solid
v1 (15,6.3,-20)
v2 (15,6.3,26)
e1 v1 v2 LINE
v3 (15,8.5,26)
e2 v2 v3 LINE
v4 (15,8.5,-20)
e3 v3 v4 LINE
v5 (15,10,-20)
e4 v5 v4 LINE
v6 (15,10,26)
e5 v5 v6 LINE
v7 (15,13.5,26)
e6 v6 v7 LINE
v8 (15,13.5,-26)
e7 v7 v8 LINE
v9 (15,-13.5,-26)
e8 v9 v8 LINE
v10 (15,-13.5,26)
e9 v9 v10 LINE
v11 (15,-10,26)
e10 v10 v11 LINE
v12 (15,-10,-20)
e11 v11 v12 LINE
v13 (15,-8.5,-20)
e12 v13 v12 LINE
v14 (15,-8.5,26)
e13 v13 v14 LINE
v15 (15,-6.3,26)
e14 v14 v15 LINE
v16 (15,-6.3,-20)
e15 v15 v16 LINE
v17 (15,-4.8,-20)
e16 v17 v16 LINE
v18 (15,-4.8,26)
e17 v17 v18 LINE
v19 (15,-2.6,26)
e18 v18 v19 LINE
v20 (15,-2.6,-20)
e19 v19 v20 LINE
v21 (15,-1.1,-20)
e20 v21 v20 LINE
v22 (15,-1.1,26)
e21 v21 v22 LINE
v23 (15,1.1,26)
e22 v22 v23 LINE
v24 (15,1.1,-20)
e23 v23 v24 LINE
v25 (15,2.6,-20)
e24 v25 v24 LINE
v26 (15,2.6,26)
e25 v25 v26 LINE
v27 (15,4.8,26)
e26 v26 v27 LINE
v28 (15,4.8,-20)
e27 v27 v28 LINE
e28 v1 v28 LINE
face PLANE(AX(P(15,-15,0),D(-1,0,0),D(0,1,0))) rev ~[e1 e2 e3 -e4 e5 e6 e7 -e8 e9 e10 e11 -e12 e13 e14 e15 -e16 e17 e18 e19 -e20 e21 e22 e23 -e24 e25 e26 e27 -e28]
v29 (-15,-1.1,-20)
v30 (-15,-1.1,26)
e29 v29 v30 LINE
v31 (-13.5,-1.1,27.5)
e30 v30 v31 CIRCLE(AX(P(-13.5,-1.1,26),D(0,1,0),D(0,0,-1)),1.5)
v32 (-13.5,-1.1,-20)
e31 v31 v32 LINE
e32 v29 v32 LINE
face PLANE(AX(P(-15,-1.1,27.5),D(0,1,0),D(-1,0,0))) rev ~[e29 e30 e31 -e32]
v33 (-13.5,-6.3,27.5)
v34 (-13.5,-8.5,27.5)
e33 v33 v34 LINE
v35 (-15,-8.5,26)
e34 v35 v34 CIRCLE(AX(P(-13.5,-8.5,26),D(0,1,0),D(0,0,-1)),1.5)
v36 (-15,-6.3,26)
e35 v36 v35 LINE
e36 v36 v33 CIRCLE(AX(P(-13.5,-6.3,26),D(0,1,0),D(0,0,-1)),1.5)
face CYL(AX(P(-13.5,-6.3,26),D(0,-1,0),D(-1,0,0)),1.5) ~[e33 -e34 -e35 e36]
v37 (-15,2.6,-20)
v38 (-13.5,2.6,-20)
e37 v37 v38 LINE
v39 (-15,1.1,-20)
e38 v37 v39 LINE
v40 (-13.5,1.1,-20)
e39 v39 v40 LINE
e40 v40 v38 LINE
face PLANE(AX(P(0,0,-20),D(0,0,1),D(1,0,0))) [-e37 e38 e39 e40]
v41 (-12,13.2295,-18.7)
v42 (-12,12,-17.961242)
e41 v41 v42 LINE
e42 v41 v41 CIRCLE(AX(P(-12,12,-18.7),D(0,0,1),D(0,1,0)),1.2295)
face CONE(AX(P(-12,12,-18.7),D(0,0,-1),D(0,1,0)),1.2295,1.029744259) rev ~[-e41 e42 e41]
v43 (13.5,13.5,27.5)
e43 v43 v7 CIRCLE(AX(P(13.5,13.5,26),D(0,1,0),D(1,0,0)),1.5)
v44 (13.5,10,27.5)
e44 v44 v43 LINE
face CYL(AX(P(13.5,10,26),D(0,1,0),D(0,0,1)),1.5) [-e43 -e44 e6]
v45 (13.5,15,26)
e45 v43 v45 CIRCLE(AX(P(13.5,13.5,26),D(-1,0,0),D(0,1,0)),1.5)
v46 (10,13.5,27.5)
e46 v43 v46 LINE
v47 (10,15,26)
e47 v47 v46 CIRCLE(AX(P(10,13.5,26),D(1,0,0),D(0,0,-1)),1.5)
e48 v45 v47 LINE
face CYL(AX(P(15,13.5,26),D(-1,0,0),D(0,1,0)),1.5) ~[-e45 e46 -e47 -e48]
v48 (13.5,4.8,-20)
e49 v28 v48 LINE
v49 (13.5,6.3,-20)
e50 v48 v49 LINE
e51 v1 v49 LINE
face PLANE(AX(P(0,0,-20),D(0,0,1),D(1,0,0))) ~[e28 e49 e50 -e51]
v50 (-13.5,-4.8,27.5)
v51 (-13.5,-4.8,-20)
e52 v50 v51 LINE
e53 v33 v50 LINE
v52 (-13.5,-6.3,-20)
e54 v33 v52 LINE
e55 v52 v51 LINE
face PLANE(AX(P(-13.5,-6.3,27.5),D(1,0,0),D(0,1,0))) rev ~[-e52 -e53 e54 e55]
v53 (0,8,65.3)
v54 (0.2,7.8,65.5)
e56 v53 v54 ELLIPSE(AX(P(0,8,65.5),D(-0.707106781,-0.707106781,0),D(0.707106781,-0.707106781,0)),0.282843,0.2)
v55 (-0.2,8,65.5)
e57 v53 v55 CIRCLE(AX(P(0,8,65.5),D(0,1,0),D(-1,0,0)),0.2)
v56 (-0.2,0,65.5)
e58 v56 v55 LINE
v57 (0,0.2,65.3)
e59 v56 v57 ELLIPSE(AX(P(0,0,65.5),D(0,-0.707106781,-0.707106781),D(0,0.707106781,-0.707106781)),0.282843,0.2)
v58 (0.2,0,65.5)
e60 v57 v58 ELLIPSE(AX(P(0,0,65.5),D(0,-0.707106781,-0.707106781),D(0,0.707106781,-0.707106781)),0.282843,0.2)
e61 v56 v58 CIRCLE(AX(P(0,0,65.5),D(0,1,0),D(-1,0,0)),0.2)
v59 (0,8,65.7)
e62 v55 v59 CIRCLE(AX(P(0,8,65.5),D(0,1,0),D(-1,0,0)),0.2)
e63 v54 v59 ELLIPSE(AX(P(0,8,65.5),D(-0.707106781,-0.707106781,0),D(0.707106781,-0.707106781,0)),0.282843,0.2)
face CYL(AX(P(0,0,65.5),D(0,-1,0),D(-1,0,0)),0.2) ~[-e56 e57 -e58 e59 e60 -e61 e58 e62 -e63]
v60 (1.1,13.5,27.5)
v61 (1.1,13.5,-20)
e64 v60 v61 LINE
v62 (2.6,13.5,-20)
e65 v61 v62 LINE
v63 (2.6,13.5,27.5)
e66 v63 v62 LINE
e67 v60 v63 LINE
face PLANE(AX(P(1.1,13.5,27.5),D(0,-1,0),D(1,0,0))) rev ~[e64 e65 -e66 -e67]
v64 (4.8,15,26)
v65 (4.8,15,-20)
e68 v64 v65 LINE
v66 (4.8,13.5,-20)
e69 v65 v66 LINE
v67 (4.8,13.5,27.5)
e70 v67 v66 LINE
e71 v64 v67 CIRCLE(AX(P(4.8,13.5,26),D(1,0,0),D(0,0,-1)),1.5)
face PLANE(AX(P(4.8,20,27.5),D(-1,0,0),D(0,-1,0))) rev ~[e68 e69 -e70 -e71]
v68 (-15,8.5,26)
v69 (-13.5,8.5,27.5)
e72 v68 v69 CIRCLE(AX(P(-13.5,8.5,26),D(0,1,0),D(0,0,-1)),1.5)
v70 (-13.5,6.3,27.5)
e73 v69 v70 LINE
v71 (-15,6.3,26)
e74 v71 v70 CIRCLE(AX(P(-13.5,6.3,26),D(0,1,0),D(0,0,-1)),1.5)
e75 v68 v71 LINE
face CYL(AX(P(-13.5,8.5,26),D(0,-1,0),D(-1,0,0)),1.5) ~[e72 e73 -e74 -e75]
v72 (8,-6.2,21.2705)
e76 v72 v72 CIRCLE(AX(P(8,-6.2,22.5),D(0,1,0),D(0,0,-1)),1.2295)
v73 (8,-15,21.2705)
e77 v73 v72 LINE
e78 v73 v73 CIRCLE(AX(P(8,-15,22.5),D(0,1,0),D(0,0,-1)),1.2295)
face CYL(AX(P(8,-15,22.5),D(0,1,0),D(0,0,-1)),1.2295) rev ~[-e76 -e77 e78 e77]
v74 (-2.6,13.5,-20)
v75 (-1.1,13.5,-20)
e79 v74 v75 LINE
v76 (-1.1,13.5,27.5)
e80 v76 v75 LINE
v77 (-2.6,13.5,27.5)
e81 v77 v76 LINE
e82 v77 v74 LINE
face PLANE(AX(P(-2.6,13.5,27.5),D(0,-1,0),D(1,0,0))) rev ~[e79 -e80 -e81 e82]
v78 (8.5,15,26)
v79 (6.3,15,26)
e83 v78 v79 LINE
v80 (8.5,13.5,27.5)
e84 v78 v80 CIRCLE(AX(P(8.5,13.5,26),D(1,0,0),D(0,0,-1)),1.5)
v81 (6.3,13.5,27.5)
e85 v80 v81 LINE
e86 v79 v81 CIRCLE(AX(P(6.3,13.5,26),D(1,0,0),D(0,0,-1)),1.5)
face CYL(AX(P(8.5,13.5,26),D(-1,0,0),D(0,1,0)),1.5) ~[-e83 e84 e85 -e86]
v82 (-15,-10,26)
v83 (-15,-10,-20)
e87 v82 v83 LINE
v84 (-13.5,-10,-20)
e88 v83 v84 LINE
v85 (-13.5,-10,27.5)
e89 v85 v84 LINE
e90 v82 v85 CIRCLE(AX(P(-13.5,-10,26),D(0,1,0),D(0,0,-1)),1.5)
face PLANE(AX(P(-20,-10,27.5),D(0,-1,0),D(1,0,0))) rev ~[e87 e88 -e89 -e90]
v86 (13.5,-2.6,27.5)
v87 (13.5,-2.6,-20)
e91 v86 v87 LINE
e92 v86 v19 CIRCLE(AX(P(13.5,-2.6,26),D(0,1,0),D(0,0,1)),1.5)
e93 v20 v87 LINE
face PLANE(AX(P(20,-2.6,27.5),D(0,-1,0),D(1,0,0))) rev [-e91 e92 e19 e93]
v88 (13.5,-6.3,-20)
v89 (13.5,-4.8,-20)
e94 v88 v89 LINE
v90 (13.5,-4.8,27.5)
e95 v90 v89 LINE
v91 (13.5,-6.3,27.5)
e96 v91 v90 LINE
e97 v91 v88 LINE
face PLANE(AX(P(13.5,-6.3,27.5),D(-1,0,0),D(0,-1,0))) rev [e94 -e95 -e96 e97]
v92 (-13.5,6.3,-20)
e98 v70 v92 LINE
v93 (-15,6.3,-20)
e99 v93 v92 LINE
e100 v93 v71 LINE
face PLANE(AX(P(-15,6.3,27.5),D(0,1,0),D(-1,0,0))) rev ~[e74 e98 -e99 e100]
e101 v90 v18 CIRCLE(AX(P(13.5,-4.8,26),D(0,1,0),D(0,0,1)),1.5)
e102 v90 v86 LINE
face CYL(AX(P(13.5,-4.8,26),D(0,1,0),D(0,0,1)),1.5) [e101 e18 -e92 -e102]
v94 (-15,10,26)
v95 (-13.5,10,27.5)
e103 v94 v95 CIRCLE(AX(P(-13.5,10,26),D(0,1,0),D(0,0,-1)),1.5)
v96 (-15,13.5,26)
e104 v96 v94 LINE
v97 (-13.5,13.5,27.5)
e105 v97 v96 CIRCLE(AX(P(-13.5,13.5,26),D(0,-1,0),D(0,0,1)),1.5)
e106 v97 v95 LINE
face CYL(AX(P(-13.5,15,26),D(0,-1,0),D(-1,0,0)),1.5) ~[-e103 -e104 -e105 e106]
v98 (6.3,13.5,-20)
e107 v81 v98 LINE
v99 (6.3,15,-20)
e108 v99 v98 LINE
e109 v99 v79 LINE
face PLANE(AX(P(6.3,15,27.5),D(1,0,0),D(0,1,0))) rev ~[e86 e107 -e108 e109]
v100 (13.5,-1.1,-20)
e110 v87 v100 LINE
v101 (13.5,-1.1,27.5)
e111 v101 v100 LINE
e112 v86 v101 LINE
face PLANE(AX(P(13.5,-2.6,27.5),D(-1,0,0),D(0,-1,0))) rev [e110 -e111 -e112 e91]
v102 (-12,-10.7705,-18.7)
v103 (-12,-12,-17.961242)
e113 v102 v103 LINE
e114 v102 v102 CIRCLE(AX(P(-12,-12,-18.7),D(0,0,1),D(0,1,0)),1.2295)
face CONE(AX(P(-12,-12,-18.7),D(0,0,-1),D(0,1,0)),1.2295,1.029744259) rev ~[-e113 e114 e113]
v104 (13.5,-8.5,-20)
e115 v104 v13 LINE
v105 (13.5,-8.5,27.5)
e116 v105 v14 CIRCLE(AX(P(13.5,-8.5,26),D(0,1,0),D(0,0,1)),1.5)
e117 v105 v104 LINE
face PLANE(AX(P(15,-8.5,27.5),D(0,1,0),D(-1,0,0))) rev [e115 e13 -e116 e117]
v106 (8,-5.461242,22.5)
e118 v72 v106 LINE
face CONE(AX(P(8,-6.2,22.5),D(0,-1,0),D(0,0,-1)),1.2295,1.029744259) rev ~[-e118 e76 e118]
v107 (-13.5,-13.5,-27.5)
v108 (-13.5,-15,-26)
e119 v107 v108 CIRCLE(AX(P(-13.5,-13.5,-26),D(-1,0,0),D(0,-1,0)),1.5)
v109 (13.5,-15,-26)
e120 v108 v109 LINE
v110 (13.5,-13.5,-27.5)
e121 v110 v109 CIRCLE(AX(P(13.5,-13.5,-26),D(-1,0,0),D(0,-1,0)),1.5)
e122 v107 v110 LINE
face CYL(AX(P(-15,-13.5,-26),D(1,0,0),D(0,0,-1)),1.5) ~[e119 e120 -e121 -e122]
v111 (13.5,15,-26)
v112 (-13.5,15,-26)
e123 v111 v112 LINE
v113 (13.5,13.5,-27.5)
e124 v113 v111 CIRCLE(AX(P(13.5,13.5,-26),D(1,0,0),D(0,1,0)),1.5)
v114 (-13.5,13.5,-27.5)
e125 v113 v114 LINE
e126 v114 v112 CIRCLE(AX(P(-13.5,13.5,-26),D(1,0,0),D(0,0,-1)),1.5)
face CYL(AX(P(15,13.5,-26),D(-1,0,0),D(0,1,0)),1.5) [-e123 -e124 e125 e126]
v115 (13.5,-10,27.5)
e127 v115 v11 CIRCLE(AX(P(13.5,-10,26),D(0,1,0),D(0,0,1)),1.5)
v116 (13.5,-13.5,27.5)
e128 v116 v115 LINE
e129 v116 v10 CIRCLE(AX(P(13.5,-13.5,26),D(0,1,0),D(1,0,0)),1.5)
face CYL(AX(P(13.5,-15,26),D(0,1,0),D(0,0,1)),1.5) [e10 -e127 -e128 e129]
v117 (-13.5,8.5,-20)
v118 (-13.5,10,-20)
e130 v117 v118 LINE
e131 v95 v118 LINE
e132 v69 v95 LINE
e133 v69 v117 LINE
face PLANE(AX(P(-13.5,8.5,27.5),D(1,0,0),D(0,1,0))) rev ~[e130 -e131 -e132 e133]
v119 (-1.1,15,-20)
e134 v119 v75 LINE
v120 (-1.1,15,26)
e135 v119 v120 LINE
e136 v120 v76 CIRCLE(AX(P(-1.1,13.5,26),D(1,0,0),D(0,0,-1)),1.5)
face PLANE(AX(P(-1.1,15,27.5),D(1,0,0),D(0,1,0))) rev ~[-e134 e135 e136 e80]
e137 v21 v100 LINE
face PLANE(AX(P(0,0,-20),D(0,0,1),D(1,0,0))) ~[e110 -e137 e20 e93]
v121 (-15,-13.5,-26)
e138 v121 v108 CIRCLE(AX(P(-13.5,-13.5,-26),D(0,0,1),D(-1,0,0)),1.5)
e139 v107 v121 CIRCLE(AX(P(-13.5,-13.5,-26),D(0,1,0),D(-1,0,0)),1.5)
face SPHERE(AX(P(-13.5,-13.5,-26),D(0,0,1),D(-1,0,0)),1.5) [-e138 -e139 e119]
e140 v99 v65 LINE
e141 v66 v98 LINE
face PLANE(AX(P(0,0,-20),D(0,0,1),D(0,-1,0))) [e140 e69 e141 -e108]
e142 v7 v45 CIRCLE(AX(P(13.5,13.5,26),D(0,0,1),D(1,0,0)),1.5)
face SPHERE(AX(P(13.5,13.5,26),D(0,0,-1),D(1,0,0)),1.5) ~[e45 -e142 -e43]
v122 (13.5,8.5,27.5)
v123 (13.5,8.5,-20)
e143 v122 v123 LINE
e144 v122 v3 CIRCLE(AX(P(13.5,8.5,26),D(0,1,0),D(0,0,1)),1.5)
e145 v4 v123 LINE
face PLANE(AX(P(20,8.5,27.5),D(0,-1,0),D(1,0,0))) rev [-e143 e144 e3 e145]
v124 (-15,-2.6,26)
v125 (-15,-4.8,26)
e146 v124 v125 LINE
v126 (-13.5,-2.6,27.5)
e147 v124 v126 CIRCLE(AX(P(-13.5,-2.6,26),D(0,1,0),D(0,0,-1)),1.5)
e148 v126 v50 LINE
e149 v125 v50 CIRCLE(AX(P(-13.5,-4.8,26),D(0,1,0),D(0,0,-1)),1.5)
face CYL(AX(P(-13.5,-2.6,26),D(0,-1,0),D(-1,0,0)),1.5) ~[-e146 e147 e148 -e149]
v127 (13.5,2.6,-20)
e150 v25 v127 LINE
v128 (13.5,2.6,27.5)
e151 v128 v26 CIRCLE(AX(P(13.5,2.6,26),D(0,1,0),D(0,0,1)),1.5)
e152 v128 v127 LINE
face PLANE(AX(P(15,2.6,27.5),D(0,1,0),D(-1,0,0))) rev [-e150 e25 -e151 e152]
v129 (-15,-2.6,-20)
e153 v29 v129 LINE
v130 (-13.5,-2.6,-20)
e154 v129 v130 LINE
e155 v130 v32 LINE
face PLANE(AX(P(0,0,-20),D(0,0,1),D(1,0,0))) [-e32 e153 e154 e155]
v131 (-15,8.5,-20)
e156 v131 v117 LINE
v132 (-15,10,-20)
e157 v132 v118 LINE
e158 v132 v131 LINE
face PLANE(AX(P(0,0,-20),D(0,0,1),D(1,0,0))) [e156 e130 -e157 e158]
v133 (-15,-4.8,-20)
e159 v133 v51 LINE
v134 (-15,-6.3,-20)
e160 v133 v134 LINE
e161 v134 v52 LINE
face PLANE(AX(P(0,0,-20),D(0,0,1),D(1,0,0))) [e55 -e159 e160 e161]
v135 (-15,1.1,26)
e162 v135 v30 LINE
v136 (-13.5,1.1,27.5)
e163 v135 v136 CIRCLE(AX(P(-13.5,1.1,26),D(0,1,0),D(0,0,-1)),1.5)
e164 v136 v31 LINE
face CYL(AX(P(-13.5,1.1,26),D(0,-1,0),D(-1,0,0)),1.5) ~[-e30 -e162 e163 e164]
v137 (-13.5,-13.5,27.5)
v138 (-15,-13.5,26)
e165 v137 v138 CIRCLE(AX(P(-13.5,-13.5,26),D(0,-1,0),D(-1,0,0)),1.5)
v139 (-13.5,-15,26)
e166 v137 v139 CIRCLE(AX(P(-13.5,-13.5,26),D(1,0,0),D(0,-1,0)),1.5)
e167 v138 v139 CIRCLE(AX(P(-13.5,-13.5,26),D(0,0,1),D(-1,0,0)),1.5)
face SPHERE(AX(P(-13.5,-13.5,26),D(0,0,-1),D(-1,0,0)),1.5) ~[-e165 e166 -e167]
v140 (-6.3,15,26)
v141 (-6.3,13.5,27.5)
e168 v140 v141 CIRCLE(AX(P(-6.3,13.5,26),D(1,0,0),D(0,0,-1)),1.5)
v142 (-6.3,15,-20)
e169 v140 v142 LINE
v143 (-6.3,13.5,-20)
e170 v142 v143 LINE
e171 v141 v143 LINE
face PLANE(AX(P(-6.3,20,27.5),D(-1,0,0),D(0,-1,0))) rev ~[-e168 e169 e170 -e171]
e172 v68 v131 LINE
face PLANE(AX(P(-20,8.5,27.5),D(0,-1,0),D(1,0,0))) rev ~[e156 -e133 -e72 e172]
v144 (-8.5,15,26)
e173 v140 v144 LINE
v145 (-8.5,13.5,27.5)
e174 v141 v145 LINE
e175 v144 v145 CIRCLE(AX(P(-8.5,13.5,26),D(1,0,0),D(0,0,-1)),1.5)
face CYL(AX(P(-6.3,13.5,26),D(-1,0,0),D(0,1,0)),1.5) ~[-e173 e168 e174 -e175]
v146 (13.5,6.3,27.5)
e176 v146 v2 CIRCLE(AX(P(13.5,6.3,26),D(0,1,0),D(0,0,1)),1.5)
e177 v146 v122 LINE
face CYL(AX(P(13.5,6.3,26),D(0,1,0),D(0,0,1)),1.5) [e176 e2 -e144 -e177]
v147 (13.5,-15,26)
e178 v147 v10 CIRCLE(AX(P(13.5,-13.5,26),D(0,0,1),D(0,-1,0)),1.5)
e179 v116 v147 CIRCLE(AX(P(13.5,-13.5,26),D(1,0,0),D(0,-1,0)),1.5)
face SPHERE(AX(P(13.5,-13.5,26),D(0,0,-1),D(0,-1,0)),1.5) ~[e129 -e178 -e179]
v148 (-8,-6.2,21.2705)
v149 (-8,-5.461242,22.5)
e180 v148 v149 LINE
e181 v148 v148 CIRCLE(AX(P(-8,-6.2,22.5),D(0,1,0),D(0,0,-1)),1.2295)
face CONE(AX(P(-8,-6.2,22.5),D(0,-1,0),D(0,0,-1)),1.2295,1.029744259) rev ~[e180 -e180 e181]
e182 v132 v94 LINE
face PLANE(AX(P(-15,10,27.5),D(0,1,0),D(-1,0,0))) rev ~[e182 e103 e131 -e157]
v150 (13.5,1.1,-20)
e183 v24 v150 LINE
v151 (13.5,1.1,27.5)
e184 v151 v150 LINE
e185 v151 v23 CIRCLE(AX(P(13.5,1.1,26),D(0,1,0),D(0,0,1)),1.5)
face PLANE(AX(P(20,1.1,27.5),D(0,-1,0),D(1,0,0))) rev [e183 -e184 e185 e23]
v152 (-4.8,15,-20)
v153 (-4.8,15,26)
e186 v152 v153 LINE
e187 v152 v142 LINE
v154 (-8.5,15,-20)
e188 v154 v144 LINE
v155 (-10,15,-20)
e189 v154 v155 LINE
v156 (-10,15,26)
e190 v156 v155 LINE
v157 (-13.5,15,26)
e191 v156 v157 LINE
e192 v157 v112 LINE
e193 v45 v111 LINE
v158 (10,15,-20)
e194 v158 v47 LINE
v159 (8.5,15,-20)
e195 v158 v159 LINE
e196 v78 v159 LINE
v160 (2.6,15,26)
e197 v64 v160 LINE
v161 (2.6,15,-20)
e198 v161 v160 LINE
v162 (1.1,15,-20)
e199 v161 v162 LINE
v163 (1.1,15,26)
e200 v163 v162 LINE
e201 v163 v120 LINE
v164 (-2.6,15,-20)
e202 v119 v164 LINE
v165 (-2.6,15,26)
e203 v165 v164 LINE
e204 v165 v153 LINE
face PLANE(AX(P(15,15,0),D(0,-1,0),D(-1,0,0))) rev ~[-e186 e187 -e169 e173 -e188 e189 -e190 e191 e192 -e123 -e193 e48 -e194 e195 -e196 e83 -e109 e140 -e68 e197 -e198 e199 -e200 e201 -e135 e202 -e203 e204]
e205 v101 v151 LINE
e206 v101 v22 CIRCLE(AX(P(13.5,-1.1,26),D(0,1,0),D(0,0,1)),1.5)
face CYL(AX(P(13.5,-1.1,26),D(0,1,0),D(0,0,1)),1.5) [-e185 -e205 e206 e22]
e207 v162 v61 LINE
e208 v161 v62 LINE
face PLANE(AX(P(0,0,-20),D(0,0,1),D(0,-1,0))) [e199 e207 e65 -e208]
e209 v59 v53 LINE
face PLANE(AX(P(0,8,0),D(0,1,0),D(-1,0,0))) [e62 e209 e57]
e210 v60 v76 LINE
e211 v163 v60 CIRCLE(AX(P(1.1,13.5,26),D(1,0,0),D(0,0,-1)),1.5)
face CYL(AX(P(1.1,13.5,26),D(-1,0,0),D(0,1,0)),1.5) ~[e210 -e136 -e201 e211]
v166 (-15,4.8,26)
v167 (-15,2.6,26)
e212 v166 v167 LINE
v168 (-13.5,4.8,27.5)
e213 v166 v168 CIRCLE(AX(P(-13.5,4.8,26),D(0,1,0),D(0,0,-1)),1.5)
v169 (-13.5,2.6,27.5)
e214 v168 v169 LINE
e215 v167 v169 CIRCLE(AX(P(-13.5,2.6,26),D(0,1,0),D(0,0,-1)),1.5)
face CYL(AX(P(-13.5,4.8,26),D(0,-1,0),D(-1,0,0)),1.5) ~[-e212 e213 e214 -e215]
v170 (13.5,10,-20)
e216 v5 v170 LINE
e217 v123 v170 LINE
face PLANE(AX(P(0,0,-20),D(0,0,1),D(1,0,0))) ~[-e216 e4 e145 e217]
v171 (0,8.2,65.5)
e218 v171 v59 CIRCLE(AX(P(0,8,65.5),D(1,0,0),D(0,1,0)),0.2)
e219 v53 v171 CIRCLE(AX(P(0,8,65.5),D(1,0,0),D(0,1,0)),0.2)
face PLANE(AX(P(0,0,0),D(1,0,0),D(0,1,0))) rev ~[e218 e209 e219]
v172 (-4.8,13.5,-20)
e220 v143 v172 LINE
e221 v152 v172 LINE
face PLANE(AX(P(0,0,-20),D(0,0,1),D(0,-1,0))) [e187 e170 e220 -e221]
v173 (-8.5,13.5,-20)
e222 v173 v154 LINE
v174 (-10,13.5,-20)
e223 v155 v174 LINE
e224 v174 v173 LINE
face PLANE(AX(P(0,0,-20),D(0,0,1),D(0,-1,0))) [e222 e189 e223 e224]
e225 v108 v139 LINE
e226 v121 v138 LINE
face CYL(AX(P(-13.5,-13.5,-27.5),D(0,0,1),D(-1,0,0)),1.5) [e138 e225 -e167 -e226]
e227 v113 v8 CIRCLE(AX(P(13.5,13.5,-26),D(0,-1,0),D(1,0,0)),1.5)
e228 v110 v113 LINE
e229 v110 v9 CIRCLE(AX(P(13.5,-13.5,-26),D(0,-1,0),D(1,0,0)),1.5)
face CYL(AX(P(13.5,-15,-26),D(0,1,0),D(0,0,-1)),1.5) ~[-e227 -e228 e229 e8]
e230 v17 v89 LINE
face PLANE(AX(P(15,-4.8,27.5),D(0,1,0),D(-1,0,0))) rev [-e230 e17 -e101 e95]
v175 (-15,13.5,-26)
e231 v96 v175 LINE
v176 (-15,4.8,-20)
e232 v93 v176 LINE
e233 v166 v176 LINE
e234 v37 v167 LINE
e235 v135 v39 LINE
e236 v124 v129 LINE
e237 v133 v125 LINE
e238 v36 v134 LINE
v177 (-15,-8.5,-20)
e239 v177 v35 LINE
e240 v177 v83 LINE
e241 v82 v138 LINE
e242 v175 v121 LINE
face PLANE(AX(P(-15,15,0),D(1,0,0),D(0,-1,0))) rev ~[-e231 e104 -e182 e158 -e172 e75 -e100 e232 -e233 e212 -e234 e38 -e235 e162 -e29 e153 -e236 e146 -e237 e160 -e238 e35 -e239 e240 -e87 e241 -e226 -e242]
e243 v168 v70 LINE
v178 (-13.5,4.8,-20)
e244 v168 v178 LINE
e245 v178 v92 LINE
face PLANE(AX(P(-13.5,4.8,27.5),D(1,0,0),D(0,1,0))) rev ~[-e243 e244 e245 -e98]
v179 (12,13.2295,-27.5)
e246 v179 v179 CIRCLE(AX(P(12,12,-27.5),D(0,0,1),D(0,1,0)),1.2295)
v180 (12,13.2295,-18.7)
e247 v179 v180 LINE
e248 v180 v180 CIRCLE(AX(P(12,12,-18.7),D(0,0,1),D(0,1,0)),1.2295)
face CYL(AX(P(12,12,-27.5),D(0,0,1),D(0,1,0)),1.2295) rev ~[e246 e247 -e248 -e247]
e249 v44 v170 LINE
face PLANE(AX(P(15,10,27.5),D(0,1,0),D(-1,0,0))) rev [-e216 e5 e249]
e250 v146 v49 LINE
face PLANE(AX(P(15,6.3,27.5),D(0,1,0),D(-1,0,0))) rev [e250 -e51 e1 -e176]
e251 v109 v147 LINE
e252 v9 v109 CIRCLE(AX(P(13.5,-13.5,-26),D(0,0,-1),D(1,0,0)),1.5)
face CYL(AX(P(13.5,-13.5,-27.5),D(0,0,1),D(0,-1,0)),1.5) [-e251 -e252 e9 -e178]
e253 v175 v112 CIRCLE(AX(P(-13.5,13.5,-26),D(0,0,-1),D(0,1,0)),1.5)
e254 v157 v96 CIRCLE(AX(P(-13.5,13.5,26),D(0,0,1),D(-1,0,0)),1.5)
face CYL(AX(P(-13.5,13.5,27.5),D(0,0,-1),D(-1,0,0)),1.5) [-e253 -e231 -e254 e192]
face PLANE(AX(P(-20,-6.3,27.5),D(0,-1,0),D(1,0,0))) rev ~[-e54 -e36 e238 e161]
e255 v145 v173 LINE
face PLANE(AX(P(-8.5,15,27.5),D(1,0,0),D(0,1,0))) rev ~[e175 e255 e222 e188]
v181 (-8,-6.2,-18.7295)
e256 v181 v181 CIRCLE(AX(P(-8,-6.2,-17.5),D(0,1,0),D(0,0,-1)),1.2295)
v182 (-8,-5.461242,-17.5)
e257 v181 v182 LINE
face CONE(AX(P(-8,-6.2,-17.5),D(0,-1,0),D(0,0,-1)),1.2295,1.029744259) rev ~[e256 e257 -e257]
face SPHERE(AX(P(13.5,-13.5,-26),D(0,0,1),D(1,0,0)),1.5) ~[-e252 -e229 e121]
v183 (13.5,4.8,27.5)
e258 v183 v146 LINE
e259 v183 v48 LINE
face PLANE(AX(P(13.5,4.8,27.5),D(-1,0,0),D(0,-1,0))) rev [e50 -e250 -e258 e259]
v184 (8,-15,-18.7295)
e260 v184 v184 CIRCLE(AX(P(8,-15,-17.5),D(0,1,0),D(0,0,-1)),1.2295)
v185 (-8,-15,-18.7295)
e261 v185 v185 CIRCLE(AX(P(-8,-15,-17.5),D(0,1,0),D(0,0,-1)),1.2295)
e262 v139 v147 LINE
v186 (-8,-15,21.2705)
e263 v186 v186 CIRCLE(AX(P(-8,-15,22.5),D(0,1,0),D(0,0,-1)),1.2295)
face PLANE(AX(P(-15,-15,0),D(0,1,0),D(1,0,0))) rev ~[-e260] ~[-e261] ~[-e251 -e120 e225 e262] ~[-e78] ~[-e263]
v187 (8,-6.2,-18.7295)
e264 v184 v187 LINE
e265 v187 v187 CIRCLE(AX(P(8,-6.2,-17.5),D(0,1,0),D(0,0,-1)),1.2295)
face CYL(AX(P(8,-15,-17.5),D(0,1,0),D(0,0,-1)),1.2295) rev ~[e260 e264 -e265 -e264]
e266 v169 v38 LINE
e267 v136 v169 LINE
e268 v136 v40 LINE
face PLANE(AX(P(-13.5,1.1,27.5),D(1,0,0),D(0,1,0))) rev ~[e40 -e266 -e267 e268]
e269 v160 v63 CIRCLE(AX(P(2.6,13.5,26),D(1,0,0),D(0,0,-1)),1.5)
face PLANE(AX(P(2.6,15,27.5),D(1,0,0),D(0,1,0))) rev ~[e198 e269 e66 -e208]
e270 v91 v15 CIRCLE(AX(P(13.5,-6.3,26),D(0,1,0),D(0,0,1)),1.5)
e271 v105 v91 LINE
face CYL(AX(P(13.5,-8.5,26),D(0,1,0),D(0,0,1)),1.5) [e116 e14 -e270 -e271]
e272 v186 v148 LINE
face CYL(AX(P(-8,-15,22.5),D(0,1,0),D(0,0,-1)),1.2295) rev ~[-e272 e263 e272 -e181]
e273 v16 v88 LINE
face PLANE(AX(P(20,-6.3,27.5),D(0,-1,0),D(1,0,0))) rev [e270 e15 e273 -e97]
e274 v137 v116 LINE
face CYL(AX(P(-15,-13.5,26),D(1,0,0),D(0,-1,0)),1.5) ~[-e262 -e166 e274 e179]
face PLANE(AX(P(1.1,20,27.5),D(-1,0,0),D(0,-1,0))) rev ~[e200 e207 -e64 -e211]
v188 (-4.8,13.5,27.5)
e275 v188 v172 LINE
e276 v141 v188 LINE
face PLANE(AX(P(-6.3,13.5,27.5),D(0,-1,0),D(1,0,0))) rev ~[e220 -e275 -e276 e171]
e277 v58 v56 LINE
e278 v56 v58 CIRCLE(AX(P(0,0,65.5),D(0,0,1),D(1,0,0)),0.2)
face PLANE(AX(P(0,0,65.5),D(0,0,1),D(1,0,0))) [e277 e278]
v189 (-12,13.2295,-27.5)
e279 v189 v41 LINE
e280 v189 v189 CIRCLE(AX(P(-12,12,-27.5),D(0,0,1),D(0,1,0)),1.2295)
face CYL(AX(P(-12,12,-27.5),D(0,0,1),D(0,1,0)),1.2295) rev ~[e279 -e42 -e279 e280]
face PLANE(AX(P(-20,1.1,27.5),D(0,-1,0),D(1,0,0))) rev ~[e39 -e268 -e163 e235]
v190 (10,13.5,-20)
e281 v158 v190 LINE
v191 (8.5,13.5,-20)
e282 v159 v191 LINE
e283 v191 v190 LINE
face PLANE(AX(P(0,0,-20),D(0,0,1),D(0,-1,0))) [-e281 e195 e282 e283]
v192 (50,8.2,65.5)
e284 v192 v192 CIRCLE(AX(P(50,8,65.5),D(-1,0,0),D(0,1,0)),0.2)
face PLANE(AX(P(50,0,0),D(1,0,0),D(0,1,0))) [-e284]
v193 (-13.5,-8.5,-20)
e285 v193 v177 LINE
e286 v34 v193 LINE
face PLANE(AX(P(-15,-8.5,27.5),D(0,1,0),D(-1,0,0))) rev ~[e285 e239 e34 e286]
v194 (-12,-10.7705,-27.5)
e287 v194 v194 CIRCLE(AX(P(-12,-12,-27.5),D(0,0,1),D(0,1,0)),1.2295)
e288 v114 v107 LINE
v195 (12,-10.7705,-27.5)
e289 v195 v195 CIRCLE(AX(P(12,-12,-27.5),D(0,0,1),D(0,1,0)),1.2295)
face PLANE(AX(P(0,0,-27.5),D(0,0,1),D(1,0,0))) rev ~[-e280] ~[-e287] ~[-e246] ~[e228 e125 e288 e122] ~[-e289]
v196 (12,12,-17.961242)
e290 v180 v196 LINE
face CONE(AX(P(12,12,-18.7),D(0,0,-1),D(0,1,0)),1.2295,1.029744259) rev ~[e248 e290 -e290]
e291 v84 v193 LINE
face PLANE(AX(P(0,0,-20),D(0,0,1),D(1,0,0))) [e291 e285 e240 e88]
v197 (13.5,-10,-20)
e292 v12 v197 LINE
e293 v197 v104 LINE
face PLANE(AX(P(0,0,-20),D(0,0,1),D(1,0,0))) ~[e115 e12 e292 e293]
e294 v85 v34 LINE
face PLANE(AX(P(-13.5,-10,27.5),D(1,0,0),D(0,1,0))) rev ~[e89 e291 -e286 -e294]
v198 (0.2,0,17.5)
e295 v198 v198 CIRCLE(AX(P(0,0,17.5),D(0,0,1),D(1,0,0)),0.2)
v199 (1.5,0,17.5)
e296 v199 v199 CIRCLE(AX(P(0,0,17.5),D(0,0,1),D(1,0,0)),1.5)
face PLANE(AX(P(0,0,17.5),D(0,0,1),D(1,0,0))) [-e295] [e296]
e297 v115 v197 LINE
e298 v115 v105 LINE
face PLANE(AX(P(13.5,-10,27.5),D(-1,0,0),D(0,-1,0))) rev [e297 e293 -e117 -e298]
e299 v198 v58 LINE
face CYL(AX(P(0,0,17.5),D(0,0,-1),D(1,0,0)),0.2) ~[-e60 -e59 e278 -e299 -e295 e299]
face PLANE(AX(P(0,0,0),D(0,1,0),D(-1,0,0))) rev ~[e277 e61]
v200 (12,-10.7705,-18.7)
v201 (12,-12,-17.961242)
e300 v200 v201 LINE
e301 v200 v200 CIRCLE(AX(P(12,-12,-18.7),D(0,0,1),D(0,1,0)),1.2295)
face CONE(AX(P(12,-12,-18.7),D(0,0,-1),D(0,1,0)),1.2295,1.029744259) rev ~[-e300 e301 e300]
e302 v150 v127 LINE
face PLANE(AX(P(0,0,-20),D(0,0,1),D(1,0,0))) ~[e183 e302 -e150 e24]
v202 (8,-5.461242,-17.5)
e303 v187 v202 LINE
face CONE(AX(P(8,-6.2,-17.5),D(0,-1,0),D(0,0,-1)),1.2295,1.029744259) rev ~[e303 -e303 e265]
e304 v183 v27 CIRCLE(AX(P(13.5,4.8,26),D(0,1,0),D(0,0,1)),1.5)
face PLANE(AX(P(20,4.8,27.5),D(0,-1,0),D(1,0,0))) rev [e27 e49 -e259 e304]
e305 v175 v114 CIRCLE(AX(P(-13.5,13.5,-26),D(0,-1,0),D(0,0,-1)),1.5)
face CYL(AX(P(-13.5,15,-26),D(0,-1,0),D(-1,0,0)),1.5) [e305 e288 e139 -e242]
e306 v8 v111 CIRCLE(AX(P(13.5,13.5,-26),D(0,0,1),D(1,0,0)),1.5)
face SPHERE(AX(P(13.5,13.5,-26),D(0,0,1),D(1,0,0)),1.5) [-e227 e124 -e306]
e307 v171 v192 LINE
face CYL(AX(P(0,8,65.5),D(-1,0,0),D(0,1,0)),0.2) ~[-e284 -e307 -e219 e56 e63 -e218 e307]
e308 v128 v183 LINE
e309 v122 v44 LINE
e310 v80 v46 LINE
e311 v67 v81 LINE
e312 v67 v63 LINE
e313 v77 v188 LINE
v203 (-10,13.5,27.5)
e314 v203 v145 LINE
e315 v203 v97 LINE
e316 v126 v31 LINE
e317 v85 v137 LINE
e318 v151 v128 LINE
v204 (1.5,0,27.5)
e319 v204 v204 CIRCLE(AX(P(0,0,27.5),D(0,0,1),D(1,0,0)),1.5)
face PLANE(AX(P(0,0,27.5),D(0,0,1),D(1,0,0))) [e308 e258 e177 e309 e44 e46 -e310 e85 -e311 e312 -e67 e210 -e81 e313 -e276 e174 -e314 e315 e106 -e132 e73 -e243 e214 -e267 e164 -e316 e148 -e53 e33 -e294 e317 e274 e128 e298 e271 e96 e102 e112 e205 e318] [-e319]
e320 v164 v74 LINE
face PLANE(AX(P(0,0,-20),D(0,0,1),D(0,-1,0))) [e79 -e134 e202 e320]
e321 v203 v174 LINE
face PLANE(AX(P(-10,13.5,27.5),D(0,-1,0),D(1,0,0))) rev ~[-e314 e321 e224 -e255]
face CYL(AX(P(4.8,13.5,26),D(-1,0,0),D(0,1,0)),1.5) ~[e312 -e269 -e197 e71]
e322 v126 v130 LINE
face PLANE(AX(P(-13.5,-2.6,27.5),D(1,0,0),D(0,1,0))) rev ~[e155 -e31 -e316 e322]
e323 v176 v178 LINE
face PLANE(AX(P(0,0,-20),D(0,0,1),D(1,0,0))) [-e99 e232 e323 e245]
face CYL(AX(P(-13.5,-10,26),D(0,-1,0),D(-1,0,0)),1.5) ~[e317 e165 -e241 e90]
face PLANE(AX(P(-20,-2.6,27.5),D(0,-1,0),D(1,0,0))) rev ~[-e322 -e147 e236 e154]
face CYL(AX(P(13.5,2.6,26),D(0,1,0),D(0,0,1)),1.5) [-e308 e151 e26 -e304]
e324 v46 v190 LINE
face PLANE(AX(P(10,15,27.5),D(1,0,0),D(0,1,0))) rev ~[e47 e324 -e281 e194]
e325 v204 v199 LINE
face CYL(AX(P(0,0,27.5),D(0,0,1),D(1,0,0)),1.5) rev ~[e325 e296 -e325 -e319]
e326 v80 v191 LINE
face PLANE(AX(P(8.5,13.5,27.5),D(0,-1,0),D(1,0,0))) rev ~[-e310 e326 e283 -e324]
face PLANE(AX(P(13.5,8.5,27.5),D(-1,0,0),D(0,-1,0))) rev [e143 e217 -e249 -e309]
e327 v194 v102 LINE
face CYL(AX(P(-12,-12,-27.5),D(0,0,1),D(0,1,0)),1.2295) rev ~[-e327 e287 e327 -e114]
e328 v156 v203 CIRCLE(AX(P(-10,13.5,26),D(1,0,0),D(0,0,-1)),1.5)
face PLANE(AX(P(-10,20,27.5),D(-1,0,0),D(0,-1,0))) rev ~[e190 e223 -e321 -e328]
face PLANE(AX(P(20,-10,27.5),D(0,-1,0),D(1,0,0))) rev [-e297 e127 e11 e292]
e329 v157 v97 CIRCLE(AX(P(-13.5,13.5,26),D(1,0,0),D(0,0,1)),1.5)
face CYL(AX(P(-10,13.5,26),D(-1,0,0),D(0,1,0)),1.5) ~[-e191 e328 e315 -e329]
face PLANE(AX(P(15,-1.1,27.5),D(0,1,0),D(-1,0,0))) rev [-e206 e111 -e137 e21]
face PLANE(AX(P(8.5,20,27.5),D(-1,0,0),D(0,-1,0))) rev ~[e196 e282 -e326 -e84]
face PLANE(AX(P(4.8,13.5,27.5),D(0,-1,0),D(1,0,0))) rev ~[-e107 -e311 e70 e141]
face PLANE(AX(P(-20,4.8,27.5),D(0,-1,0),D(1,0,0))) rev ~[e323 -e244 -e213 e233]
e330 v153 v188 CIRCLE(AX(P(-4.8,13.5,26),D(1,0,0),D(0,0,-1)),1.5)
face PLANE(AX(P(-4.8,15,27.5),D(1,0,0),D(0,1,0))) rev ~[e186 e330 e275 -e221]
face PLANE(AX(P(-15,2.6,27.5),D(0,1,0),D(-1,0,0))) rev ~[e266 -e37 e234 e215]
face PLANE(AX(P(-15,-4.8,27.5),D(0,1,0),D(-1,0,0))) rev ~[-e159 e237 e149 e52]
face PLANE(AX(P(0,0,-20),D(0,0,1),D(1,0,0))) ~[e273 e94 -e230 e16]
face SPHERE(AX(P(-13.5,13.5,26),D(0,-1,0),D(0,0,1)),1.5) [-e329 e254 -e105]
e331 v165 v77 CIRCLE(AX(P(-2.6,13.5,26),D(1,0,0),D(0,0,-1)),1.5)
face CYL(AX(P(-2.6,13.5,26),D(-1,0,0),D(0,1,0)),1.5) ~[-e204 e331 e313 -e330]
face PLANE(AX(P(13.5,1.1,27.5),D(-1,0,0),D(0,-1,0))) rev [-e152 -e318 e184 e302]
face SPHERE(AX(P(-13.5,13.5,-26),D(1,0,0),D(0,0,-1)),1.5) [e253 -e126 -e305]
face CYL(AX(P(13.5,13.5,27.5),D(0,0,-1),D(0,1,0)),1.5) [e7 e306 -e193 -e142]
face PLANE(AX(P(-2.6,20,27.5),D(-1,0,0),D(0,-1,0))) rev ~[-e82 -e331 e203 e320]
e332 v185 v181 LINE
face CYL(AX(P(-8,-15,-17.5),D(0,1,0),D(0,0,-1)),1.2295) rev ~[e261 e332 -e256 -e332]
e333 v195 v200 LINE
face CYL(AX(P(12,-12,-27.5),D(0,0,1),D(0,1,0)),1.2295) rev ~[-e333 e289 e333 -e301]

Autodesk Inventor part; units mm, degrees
ref_plane "YZ Plane" through (0, 0, 0) normal (1, 0, 0) x (0, 1, 0)
ref_plane "XZ Plane" through (0, 0, 0) normal (0, 1, 0) x (-1, 0, 0)
ref_plane "XY Plane" through (0, 0, 0) normal (0, 0, 1) x (1, 0, 0)
sketch "Esquisse1" plane through (0, 0, 0) normal (0, 0, 1) x (1, 0, 0)
  line L0 (-15, -15) -> (15, -15)
  line L1 (15, -15) -> (15, 15)
  line L2 (15, 15) -> (-15, 15)
  line L3 (-15, 15) -> (-15, -15)
  line L4 (-15, -15) -> (15, 15) construction
  line L5 (15, -15) -> (-15, 15) construction
  point P0 (0, 0)
  dimension "d0" = 30
  dimension "d1" = 30
extrude "Extrusion1" add sketch "Esquisse1" along normal mid plane 55
sketch "Esquisse2" plane through (-15, -15, 27.5) normal (0, -1, 0) x (1, 0, 0)
  line L0 (0, 0) -> (30, 0) projected
  point P0 (15, -27.5)
  point P1 (7, -5)
  point P2 (23, -5)
  point P3 (23, -45)
  point P4 (7, -45)
  dimension "d4" = 40
  dimension "d5" = 16
  dimension "d6" = 8
  dimension "d7" = 5
hole "Perçage1" at (-8, -15, 22.5) at (8, -15, 22.5) at (8, -15, -17.5) at (-8, -15, -17.5) direction (0, 1, 0) diameter 2.459 depth 8.8 tip angle 118 thread size "M3x0.5" class "6H" standard "ISO Metric profile"
sketch "Esquisse3" plane through (0, 0, 27.5) normal (0, 0, 1) x (1, 0, 0)
  circle A0 centre (0, 0) radius 1.5
  dimension "d15" = 3
extrude "Extrusion2" cut sketch "Esquisse3" against normal blind 10
sketch "Esquisse4" plane through (0, 0, 17.5) normal (0, 0, 1) x (1, 0, 0)
  circle A0 centre (0, 0) radius 0.2
  dimension "d19" = 0.4
extrude "Extrusion3" [suppressed]
sketch "Esquisse5" plane through (0, 0, 27.5) normal (0, 0, 1) x (1, 0, 0)
  line L0 (-20, -10) -> (-13.5, -10)
  line L1 (-13.5, -10) -> (-13.5, -8.5)
  line L2 (-13.5, -8.5) -> (-20, -8.5)
  line L3 (-20, -8.5) -> (-20, -10)
  line L4 (-15, -15) -> (15, -15) projected
  line L5 (-15, 15) -> (-15, -15) projected
  line L6 (15, 15) -> (-15, 15) projected
  line L7 (-20, -6.3) -> (-13.5, -6.3)
  line L8 (-13.5, -6.3) -> (-13.5, -4.8)
  line L9 (-13.5, -4.8) -> (-20, -4.8)
  line L10 (-20, -4.8) -> (-20, -6.3)
  line L11 (-20, -2.6) -> (-13.5, -2.6)
  line L12 (-13.5, -2.6) -> (-13.5, -1.1)
  line L13 (-13.5, -1.1) -> (-20, -1.1)
  line L14 (-20, -1.1) -> (-20, -2.6)
  line L15 (-20, 1.1) -> (-13.5, 1.1)
  line L16 (-13.5, 1.1) -> (-13.5, 2.6)
  line L17 (-13.5, 2.6) -> (-20, 2.6)
  line L18 (-20, 2.6) -> (-20, 1.1)
  line L19 (-20, 4.8) -> (-13.5, 4.8)
  line L20 (-13.5, 4.8) -> (-13.5, 6.3)
  line L21 (-13.5, 6.3) -> (-20, 6.3)
  line L22 (-20, 6.3) -> (-20, 4.8)
  line L23 (-20, 8.5) -> (-13.5, 8.5)
  line L24 (-13.5, 8.5) -> (-13.5, 10)
  line L25 (-13.5, 10) -> (-20, 10)
  line L26 (-20, 10) -> (-20, 8.5)
  point P0 (0, 0)
  dimension "d22" = 5
  dimension "d23" = 1.5
  dimension "d24" = 1.5
  dimension "d25" = 30
  dimension "d26" = 5
  dimension "d29" = 3.7
  dimension "d34" = 5
extrude "Extrusion4" cut sketch "Esquisse5" against normal blind 47.5
pattern_circular "Réseau circulaire1" count 2 over 90 about axis through (0, 0, -10) along (0, 0, -1) of "Extrusion4"
mirror "Symétrie1" about plane through (0, 0, 0) normal (1, 0, 0) of "Extrusion4"
fillet "Congé1" radius 1.5 30 edges at (15, 15, 0) (15, -15, 0) (-15, -15, 0) (-15, 12.5, 27.5) (-15, 7.4, 27.5) (-15, 0, 27.5) (-15, -7.4, 27.5) (-15, -12.5, 27.5) (-15, -3.7, 27.5) (-15, 3.7, 27.5) (0, -15, 27.5) (15, -12.5, 27.5) (15, 12.5, 27.5) (15, 3.7, 27.5) (15, -3.7, 27.5) (15, -7.4, 27.5) (15, 0, 27.5) (15, 7.4, 27.5) (12.5, 15, 27.5) (7.4, 15, 27.5) (0, 15, 27.5) (-7.4, 15, 27.5) (-12.5, 15, 27.5) (-3.7, 15, 27.5) (3.7, 15, 27.5) (15, 0, -27.5) (0, 15, -27.5) (-15, 0, -27.5) (0, -15, -27.5) (-15, 15, 0)
sketch "Esquisse9" plane through (0, 0, 17.5) normal (0, 0, 1) x (1, 0, 0)
  circle A0 centre (0, 0) radius 0.2
  dimension "d50" = 0.4
extrude "Extrusion8" add sketch "Esquisse9" along normal blind 48
sketch "Esquisse6" plane through (0, 0, 0) normal (0, 1, 0) x (-1, 0, 0)
  circle A0 centre (0, 65.5) radius 0.2
  line L0 (0.2, 65.5) -> (-0.2, 65.5) construction
  point P0 (0, 0)
  dimension "d40" = 0.4
extrude "Extrusion5" add sketch "Esquisse6" along normal blind 8
sketch "Esquisse7" plane through (0, 0, 0) normal (1, 0, 0) x (0, 1, 0)
  line L0 (8, 65.3) -> (8, 65.7) projected
  circle A0 centre (8, 65.5) radius 0.2
  point P0 (0, 0)
  dimension "d44" = 0.4
extrude "Extrusion6" add sketch "Esquisse7" along normal blind 50
sketch "Esquisse11" plane through (-15, -13.5, -26) normal (-1, 0, 0) x (0, 0, 1)
  line L0 (0, -1.5) -> (52, -1.5) projected
  line L1 (-1.5, 27) -> (-1.5, 0) projected
  point P0 (26, 13.5)
  point P1 (1.5, 1.5)
  point P2 (3.5, 1.5)
  point P3 (5.5, 1.5)
  point P4 (7.5, 1.5)
  point P5 (9.5, 1.5)
  dimension "d56" = 2
  dimension "d57" = 2
  dimension "d58" = 2
  dimension "d59" = 2
  dimension "d60" = 3
  dimension "d61" = 3
sketch "Esquisse12" plane through (0, 0, -27.5) normal (0, 0, -1) x (-1, 0, 0)
  point P0 (0, 0)
  point P1 (-12, -12)
  point P2 (-12, 12)
  point P3 (12, 12)
  point P4 (12, -12)
  dimension "d62" = 24
  dimension "d63" = 12
  dimension "d64" = 24
  dimension "d65" = 12
hole "Perçage2" at (12, -12, -27.5) at (12, 12, -27.5) at (-12, 12, -27.5) at (-12, -12, -27.5) direction (0, 0, 1) diameter 2.459 depth 8.8 tip angle 118 thread size "M3x0.5" class "6H" standard "ISO Metric profile"
equation "\"d6\" = 0.5 * d5"
equation "\"d24\" = d23"
equation "\"d57\" = d56"
equation "\"d58\" = d57"
equation "\"d59\" = d58"
equation "\"d61\" = d60"
equation "\"d63\" = 0.5 * d64"
equation "\"d64\" = d62"
equation "\"d65\" = 0.5 * d62"
equation "\"pi\" = 3.141593"
equation "\"nombredor\" = 1.61803"
properties part number "Laser" material "Aluminium 6061"
